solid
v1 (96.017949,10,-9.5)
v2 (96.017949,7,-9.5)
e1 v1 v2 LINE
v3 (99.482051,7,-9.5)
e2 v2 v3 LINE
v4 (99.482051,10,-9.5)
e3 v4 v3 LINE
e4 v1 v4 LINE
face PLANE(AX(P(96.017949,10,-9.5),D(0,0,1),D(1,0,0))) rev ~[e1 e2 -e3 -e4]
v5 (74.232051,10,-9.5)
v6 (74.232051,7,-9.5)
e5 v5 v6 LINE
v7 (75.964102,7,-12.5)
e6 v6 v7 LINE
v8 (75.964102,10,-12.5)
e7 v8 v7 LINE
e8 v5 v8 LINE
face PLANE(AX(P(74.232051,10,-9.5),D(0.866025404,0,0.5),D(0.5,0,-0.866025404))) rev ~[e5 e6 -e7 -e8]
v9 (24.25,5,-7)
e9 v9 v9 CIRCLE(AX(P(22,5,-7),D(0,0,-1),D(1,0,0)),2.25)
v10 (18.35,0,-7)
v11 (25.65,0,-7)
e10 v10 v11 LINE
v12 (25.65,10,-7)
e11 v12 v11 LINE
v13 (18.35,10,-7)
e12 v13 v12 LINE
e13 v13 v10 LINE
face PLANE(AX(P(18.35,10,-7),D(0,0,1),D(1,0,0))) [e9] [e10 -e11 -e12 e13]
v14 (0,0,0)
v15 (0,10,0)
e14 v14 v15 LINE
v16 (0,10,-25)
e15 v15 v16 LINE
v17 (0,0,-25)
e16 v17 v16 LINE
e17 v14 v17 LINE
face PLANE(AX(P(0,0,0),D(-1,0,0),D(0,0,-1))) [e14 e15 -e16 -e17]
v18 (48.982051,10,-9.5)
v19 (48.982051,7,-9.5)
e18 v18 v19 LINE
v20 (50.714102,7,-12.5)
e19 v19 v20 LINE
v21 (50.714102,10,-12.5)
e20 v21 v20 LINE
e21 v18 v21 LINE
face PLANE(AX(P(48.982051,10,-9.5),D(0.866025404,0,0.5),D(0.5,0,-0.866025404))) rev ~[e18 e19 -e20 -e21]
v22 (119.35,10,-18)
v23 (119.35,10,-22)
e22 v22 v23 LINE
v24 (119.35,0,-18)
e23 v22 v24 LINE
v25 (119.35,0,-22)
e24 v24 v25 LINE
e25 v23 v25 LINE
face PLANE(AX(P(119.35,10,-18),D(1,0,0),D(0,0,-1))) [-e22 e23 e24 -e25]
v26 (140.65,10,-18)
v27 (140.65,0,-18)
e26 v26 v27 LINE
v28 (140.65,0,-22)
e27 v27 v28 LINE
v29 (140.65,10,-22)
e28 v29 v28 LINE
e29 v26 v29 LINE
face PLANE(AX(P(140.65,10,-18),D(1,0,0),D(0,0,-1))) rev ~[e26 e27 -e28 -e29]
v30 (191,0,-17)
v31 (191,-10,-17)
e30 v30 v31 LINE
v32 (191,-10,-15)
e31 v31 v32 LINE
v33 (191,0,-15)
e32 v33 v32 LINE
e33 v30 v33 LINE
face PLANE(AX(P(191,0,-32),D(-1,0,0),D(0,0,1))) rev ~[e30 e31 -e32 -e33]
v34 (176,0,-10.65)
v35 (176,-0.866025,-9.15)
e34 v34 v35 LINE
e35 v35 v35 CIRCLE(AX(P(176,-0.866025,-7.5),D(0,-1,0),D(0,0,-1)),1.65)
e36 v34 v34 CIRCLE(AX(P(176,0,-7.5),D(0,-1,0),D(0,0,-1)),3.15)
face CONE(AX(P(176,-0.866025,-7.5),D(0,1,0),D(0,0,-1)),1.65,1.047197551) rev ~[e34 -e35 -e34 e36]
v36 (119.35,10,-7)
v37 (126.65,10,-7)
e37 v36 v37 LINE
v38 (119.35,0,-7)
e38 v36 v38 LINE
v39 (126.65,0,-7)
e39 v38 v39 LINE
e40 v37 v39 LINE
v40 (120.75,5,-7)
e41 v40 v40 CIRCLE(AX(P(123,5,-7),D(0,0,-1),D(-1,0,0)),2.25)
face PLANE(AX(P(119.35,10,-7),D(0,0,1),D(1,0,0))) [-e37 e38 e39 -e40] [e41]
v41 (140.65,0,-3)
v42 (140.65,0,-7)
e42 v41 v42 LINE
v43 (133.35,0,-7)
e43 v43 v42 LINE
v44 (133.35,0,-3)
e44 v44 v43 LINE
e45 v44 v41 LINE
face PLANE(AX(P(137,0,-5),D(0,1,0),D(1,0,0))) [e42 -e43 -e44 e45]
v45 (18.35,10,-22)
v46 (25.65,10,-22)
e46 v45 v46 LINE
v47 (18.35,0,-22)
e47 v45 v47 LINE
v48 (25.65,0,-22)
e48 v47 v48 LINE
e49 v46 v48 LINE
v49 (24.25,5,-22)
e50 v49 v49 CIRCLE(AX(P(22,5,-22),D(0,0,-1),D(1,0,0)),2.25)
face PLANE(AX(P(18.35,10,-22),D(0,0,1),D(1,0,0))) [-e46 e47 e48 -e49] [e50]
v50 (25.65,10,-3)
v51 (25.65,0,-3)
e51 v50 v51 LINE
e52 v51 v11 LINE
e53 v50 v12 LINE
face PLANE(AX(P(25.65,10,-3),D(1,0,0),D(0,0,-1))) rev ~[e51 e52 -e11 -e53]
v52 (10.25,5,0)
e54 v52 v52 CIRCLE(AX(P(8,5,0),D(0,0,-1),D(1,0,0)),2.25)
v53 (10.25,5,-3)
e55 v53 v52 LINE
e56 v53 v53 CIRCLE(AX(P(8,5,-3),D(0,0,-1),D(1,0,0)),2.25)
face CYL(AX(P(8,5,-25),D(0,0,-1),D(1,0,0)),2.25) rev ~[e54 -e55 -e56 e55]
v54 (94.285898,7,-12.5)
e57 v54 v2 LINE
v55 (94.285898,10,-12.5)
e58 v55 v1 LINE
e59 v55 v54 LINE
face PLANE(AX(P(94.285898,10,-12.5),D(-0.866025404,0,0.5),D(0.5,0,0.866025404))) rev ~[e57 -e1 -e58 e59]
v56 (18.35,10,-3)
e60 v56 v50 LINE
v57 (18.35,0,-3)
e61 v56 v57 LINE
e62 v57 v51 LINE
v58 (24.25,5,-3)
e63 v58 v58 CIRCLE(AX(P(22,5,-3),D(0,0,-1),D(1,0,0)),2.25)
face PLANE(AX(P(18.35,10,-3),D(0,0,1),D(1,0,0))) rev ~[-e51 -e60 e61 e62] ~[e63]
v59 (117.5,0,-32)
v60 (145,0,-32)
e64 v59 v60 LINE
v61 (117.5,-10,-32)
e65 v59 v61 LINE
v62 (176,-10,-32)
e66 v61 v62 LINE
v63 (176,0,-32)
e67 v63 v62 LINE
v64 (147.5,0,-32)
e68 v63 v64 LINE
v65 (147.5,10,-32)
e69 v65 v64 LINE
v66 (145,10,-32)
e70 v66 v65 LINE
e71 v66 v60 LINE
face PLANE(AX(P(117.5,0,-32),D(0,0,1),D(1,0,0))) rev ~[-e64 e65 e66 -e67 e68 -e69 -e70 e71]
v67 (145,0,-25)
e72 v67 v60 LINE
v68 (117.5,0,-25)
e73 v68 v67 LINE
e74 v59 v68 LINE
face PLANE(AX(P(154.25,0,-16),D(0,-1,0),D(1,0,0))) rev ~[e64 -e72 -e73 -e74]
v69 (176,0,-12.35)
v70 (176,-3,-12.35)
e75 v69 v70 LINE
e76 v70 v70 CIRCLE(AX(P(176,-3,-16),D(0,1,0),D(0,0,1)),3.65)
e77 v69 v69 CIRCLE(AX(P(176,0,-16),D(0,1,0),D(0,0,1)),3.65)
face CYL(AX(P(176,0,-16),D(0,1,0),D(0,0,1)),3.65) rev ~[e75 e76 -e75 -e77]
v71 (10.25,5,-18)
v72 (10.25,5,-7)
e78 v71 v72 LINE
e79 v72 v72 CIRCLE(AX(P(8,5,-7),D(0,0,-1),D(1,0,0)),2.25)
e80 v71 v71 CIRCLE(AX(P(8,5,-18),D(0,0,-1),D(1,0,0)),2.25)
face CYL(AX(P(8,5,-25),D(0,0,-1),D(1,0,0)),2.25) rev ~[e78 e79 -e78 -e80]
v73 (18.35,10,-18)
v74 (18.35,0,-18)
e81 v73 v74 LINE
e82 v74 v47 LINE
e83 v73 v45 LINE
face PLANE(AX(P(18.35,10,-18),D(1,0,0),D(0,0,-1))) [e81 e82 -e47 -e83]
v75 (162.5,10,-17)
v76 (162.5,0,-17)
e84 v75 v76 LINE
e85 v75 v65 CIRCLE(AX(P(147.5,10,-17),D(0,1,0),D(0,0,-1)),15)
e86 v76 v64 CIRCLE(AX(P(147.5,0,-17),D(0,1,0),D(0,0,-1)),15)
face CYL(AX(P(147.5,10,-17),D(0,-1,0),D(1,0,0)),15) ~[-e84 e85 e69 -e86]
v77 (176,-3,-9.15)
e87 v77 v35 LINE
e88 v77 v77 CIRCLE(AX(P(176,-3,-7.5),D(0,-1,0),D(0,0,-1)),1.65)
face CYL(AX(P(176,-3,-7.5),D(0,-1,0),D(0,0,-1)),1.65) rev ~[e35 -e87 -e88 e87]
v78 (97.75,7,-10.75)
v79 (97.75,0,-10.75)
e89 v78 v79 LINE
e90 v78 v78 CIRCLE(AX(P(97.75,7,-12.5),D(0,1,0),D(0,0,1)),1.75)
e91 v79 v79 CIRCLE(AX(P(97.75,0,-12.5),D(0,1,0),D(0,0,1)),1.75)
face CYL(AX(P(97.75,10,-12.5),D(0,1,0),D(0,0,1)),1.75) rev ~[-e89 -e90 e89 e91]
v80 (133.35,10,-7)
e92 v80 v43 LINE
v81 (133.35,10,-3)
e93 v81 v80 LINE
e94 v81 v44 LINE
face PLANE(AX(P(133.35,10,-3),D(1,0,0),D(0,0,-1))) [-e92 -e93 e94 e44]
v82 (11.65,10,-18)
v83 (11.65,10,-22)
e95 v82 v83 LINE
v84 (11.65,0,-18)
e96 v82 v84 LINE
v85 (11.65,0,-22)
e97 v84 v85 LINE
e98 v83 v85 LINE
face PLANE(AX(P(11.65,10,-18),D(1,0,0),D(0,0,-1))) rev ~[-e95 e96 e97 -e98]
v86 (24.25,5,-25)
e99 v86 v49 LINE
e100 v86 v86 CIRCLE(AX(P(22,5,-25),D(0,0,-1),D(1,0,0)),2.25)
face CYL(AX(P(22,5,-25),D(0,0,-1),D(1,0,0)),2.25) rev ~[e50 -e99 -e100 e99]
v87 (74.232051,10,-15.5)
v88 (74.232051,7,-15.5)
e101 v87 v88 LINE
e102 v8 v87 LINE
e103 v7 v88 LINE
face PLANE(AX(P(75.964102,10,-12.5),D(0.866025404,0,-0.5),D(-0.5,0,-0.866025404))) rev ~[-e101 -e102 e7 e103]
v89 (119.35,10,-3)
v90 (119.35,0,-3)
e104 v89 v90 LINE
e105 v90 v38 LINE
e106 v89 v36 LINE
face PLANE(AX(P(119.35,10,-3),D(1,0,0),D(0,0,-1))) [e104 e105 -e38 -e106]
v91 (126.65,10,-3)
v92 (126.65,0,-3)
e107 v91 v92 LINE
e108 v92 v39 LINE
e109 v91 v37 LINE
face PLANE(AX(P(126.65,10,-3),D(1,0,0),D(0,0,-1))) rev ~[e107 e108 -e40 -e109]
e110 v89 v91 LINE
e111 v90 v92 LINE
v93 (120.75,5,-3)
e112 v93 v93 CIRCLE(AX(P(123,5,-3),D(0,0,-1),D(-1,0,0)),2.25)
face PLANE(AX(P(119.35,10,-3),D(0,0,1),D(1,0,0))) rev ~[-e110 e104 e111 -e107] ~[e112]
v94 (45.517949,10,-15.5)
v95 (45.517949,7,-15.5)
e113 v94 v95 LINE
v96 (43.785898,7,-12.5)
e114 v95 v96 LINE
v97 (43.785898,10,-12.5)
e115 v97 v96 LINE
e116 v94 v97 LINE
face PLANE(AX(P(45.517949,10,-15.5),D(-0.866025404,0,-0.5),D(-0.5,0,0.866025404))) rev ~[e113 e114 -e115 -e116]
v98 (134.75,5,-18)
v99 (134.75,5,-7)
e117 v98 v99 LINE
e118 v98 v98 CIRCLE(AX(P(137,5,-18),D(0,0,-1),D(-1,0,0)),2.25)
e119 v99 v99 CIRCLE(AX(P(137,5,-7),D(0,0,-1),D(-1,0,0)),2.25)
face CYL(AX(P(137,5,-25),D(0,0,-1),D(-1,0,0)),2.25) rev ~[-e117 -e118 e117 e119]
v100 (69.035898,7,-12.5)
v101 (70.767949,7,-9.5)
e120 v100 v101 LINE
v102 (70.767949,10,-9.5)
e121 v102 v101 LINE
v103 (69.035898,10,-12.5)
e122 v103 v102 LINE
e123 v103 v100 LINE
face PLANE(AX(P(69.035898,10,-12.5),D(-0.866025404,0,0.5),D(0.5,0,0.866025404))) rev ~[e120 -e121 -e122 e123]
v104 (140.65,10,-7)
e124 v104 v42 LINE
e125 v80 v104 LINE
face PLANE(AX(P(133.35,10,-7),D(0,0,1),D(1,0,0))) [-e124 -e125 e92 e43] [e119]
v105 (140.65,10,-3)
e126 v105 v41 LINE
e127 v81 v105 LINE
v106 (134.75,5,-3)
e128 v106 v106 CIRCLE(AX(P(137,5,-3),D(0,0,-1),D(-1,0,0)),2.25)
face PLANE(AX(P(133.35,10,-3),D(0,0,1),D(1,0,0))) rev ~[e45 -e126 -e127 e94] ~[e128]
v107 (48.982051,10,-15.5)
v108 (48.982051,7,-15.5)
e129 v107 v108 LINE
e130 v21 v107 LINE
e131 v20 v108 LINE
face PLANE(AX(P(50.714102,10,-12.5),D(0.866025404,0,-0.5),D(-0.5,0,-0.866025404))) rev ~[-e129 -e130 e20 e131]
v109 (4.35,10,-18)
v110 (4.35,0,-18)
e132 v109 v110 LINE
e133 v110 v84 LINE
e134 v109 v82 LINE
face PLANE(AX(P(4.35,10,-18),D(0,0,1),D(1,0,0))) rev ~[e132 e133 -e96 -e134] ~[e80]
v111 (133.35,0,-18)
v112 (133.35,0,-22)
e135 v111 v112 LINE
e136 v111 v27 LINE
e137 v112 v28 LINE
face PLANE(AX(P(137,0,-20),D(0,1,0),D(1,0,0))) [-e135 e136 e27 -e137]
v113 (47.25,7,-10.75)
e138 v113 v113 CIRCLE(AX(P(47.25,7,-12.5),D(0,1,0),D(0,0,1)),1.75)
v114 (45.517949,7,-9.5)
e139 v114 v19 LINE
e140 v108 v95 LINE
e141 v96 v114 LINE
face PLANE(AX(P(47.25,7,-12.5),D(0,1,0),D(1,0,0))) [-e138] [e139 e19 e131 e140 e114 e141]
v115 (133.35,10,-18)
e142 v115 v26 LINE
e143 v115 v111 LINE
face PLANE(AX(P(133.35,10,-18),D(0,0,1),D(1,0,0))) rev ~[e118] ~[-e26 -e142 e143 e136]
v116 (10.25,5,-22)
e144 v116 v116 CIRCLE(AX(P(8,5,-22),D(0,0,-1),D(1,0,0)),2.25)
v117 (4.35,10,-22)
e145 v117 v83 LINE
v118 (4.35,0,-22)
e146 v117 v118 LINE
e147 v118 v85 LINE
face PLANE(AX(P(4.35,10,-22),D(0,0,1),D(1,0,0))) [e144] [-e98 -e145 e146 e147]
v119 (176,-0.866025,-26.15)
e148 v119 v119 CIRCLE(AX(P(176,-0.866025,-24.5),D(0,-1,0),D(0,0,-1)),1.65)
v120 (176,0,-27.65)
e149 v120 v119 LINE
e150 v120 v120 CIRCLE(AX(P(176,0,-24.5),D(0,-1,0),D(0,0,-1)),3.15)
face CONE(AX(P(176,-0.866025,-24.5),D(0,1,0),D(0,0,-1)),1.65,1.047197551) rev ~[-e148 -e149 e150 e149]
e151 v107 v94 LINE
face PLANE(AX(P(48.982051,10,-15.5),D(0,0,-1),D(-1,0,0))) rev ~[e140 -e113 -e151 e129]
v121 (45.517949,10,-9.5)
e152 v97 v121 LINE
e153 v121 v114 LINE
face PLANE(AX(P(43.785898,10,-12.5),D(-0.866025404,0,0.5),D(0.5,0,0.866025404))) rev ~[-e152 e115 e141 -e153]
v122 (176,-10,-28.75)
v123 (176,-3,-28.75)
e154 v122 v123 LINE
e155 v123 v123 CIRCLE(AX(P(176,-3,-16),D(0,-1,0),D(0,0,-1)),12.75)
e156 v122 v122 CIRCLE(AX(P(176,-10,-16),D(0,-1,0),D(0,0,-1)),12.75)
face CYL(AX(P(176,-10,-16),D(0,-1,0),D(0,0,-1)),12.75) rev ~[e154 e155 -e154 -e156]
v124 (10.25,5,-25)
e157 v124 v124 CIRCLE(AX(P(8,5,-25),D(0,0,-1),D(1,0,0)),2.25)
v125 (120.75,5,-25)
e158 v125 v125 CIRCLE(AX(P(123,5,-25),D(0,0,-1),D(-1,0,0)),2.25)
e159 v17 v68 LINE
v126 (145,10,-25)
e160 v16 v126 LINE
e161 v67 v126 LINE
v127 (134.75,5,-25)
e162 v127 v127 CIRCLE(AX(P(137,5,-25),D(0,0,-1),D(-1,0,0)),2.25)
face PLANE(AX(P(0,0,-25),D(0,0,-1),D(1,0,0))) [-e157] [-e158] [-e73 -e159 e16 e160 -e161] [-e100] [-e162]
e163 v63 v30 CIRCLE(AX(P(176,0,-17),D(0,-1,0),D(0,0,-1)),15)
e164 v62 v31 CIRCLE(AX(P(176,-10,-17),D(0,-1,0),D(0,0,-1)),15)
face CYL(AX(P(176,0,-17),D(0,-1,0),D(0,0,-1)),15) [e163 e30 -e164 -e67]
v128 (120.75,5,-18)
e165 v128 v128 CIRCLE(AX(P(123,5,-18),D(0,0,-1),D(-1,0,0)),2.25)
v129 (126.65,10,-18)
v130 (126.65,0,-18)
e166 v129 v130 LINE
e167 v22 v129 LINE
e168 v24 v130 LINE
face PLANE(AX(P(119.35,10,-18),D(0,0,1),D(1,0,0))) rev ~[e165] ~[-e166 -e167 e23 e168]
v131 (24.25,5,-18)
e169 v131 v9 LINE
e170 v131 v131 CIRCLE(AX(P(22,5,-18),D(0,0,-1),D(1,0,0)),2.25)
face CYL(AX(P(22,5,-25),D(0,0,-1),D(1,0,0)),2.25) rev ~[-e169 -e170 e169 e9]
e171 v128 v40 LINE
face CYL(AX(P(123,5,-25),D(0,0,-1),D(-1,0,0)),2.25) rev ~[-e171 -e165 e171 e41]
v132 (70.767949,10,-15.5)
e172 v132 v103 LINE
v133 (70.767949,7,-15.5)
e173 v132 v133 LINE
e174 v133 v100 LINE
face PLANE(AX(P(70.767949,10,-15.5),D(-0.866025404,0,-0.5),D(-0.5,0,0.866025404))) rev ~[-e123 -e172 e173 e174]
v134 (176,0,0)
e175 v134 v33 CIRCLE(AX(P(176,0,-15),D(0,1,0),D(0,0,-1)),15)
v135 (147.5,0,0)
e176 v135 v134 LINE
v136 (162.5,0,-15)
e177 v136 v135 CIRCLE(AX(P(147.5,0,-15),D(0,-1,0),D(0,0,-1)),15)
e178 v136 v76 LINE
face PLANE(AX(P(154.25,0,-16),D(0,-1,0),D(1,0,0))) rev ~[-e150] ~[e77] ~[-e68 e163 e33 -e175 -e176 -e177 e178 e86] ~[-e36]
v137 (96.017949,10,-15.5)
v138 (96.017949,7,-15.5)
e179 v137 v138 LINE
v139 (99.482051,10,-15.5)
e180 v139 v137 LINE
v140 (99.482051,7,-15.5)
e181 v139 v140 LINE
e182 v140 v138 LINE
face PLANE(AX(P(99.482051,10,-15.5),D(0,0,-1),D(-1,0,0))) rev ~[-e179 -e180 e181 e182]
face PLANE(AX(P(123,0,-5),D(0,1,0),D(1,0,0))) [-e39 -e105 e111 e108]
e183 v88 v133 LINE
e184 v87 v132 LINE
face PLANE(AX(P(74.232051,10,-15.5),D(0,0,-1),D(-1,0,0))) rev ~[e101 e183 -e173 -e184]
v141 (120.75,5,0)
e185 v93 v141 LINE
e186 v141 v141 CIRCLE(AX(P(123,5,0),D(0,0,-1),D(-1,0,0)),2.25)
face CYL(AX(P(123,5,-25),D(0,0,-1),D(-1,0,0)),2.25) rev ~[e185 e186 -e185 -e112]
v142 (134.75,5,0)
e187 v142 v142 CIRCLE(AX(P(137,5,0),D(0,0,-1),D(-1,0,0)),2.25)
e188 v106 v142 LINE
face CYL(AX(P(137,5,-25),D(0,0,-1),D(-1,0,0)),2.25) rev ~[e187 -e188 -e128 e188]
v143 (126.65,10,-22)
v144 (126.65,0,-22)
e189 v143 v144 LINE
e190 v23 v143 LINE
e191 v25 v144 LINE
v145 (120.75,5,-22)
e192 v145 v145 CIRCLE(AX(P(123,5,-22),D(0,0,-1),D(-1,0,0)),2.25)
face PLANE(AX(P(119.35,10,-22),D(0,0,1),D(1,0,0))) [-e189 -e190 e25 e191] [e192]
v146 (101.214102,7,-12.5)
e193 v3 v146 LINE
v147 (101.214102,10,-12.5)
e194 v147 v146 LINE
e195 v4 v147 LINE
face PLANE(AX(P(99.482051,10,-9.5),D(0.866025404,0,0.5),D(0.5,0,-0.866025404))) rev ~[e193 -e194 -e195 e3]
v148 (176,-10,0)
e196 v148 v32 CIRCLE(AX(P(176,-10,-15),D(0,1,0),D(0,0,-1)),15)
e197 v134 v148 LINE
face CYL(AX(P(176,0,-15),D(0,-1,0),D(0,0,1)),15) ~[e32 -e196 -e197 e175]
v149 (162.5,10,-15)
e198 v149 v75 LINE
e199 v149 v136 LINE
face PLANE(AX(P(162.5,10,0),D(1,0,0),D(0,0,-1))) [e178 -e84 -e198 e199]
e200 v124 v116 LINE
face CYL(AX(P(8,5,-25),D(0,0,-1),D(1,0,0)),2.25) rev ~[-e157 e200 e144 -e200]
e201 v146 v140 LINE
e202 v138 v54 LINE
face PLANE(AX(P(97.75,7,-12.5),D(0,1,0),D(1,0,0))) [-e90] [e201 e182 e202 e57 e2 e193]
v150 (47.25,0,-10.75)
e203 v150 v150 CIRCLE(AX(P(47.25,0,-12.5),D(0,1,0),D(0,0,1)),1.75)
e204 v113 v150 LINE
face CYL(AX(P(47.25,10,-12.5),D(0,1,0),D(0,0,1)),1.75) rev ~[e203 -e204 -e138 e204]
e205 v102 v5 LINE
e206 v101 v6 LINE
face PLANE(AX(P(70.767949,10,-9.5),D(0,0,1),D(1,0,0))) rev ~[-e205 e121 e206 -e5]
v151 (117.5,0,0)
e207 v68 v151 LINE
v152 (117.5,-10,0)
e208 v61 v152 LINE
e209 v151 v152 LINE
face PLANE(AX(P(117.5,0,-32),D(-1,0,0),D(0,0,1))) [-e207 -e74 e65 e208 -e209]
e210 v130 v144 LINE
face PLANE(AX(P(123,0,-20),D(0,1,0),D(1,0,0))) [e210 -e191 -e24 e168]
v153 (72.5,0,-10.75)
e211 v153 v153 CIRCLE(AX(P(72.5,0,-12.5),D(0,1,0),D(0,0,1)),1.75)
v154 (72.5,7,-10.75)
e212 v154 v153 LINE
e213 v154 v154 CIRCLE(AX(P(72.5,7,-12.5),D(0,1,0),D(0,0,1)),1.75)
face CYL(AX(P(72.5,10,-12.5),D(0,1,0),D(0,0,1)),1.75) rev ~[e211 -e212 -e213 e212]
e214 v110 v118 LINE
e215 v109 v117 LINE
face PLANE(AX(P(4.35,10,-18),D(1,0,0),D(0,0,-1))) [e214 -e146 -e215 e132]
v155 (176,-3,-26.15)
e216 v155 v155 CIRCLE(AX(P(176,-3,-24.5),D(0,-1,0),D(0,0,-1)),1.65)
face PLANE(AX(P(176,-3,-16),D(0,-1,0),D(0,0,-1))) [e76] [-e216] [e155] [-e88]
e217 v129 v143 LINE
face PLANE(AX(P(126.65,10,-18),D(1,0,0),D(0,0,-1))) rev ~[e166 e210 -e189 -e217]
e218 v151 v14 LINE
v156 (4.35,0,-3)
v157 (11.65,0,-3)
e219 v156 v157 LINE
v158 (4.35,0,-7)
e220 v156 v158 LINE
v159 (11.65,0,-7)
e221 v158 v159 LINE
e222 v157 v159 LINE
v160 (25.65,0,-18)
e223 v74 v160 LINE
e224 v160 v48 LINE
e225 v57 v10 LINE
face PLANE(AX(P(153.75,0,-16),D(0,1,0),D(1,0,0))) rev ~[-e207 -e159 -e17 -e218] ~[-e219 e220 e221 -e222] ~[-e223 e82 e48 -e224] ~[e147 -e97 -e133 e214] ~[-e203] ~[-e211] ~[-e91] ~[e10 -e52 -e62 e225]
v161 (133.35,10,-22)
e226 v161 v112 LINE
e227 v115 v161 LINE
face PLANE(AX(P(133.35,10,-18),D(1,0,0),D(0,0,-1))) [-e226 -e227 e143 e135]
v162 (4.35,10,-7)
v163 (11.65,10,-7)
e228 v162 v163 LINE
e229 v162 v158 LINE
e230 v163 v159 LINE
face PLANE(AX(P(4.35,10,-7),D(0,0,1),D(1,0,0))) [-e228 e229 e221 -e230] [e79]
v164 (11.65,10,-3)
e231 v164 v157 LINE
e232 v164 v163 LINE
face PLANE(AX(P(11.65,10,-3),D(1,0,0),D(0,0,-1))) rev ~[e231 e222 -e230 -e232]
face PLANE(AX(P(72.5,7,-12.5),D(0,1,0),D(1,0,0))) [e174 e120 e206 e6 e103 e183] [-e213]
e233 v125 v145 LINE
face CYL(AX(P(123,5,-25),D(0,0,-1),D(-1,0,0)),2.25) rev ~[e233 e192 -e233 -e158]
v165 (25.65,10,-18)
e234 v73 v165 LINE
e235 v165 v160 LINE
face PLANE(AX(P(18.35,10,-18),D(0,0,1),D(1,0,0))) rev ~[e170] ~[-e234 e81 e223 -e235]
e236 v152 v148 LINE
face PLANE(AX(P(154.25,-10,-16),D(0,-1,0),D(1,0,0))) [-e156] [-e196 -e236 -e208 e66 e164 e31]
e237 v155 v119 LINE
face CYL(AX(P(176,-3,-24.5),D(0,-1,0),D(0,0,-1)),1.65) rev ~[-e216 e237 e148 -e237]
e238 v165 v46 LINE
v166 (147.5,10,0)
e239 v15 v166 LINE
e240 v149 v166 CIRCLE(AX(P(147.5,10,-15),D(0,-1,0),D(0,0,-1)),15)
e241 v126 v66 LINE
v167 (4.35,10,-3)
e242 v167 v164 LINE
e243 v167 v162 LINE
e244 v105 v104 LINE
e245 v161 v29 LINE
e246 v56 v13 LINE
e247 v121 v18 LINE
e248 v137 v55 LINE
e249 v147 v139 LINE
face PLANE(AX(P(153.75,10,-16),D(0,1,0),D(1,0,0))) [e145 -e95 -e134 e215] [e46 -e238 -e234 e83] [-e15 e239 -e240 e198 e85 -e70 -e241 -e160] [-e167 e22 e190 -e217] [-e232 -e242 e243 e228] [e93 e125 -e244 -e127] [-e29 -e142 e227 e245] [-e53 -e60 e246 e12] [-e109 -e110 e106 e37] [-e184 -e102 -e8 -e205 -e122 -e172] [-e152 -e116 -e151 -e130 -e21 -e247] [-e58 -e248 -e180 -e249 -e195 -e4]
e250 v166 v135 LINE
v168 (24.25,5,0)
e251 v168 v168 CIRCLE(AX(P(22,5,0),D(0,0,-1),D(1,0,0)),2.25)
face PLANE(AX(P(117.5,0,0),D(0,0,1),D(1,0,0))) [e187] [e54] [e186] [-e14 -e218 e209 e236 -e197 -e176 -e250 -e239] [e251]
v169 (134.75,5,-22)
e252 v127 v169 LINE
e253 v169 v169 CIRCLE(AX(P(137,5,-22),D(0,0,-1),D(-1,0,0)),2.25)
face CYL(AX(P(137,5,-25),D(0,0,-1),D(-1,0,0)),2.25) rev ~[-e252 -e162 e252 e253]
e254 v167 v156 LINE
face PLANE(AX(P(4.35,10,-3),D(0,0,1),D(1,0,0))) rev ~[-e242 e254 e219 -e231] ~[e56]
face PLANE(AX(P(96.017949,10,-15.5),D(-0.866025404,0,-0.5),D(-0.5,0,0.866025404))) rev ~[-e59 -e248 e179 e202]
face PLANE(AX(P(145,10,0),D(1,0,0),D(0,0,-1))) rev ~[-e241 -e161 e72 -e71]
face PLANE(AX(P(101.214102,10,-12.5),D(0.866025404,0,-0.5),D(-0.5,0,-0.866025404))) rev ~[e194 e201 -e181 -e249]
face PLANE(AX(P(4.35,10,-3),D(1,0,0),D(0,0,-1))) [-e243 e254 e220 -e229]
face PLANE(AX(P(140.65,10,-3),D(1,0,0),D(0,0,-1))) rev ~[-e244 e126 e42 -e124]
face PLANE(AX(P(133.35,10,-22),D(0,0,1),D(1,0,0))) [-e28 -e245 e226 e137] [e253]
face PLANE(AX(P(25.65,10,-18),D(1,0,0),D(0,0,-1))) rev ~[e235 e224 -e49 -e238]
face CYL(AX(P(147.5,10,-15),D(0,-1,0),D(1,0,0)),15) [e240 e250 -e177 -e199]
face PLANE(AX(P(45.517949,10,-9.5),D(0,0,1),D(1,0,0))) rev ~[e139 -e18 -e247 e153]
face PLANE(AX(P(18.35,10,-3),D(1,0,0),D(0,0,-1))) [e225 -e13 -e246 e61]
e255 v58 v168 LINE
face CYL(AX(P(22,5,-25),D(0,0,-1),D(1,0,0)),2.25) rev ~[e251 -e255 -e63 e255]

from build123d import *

# Parameters (mm, degrees)
SKETCH1_W           = 145
SKETCH1_H           = 25
BOSS_EXTRUDE1_DEPTH = 10
SKETCH2_W           = 17.5
SKETCH2_H           = 32
BOSS_EXTRUDE2_DEPTH = 10
SKETCH4_W           = 73.5
SKETCH4_H           = 32
BOSS_EXTRUDE3_DEPTH = 10
SKETCH8_R           = 2.25
CUT_EXTRUDE5_DEPTH  = 193.888568868
SKETCH9_W           = 7.3
SKETCH9_H           = 4
CUT_EXTRUDE6_DEPTH  = 10
CUT_EXTRUDE7_REACH  = 195.92
SKETCH10_R          = 3.65
SKETCH11_R          = 12.75
CUT_EXTRUDE8_DEPTH  = 7
CUT_EXTRUDE9_REACH  = 196.692
SKETCH12_R          = 1.75
CUT_EXTRUDE10_DEPTH = 3
CUT_EXTRUDE11_REACH = 196.098
SKETCH14_R          = 1.65
CHAMFER1_SIZE       = 1.5
CHAMFER1_SIZE2      = 0.866025404
FILLET1_R           = 15


with BuildPart() as part:
    # Sketch1 → Boss-Extrude1 (new body)
    with BuildSketch(Plane(origin=(0, 0, 0), x_dir=(1, 0, 0), z_dir=(0, 1, 0))):
        with Locations((72.5, 12.5)):
            Rectangle(SKETCH1_W, SKETCH1_H)
    extrude(amount=BOSS_EXTRUDE1_DEPTH)

    # Sketch2 → Boss-Extrude2 (add)
    with BuildSketch(Plane(origin=(0, 10, 0), x_dir=(1, 0, 0), z_dir=(0, 1, 0))):
        with Locations((153.75, 16)):
            Rectangle(SKETCH2_W, SKETCH2_H)
    extrude(amount=-BOSS_EXTRUDE2_DEPTH)

    # Sketch4 → Boss-Extrude3 (add)
    with BuildSketch(Plane.XZ):
        with Locations((154.25, -16)):
            Rectangle(SKETCH4_W, SKETCH4_H)
    extrude(amount=BOSS_EXTRUDE3_DEPTH)

    # Sketch8 → Cut-Extrude5 (cut, through all)
    with BuildSketch(Plane(origin=(0, 0, -25), x_dir=(-1, 0, 0), z_dir=(0, 0, -1))):
        with Locations((-137, 5)):
            Circle(SKETCH8_R)
        with Locations((-123, 5)):
            Circle(SKETCH8_R)
        with Locations(Location((-22, 5, 0), (0, 0, 180))):
            Circle(SKETCH8_R)
        with Locations(Location((-8, 5, 0), (0, 0, 180))):
            Circle(SKETCH8_R)
    extrude(amount=-CUT_EXTRUDE5_DEPTH, mode=Mode.SUBTRACT)

    # Sketch9 → Cut-Extrude6 (cut)
    with BuildSketch(Plane(origin=(0, 10, 0), x_dir=(1, 0, 0), z_dir=(0, 1, 0))):
        with Locations((137, 20)):
            Rectangle(SKETCH9_W, SKETCH9_H)
        with Locations((137, 5)):
            Rectangle(SKETCH9_W, SKETCH9_H)
        with Locations((123, 5)):
            Rectangle(SKETCH9_W, SKETCH9_H)
        with Locations((123, 20)):
            Rectangle(SKETCH9_W, SKETCH9_H)
        with Locations((8, 20)):
            Rectangle(SKETCH9_W, SKETCH9_H)
        with Locations((22, 20)):
            Rectangle(SKETCH9_W, SKETCH9_H)
        with Locations((22, 5)):
            Rectangle(SKETCH9_W, SKETCH9_H)
        with Locations((8, 5)):
            Rectangle(SKETCH9_W, SKETCH9_H)
    extrude(amount=-CUT_EXTRUDE6_DEPTH, mode=Mode.SUBTRACT)

    # Sketch10 → Cut-Extrude7 (cut, up to next)
    with BuildSketch(Plane(origin=(0, 0, 0), x_dir=(1, 0, 0), z_dir=(0, 1, 0)), mode=Mode.PRIVATE) as cut_extrude7_sk1:
        with Locations(Location((176, 16, 0), (0, 0, 270))):
            Circle(SKETCH10_R)
    cut_extrude7_tool1 = extrude(cut_extrude7_sk1.sketch, amount=-CUT_EXTRUDE7_REACH, mode=Mode.PRIVATE) & part.part
    add(cut_extrude7_tool1.solids().sort_by_distance((176, 0, -16))[0], mode=Mode.SUBTRACT)

    # Sketch11 → Cut-Extrude8 (cut)
    with BuildSketch(Plane.XZ.offset(10)):
        with Locations(Location((176, -16, 0), (0, 0, 270))):
            Circle(SKETCH11_R)
    extrude(amount=-CUT_EXTRUDE8_DEPTH, mode=Mode.SUBTRACT)

    # Sketch12 → Cut-Extrude9 (cut, up to next)
    with BuildSketch(Plane(origin=(0, 10, 0), x_dir=(1, 0, 0), z_dir=(0, 1, 0)), mode=Mode.PRIVATE) as cut_extrude9_sk1:
        with Locations(Location((47.25, 12.5, 0), (0, 0, 270))):
            Circle(SKETCH12_R)
    cut_extrude9_tool1 = extrude(cut_extrude9_sk1.sketch, amount=-CUT_EXTRUDE9_REACH, mode=Mode.PRIVATE) & part.part
    # Sketch12 → Cut-Extrude9 (cut, up to next)
    with BuildSketch(Plane(origin=(0, 10, 0), x_dir=(1, 0, 0), z_dir=(0, 1, 0)), mode=Mode.PRIVATE) as cut_extrude9_sk2:
        with Locations(Location((72.5, 12.5, 0), (0, 0, 270))):
            Circle(SKETCH12_R)
    cut_extrude9_tool2 = extrude(cut_extrude9_sk2.sketch, amount=-CUT_EXTRUDE9_REACH, mode=Mode.PRIVATE) & part.part
    # Sketch12 → Cut-Extrude9 (cut, up to next)
    with BuildSketch(Plane(origin=(0, 10, 0), x_dir=(1, 0, 0), z_dir=(0, 1, 0)), mode=Mode.PRIVATE) as cut_extrude9_sk3:
        with Locations(Location((97.75, 12.5, 0), (0, 0, 270))):
            Circle(SKETCH12_R)
    cut_extrude9_tool3 = extrude(cut_extrude9_sk3.sketch, amount=-CUT_EXTRUDE9_REACH, mode=Mode.PRIVATE) & part.part
    add(cut_extrude9_tool1.solids().sort_by_distance((47.25, 10, -12.5))[0], mode=Mode.SUBTRACT)
    add(cut_extrude9_tool2.solids().sort_by_distance((72.5, 10, -12.5))[0], mode=Mode.SUBTRACT)
    add(cut_extrude9_tool3.solids().sort_by_distance((97.75, 10, -12.5))[0], mode=Mode.SUBTRACT)

    # Sketch13 → Cut-Extrude10 (cut)
    with BuildSketch(Plane(origin=(0, 10, 0), x_dir=(1, 0, 0), z_dir=(0, 1, 0))):
        Polygon((75.964101615, 12.5), (74.232050808, 15.5), (70.767949192, 15.5), (69.035898385, 12.5), (70.767949192, 9.5), (74.232050808, 9.5), align=None)
        Polygon((50.714101615, 12.5), (48.982050808, 15.5), (45.517949192, 15.5), (43.785898385, 12.5), (45.517949192, 9.5), (48.982050808, 9.5), align=None)
        Polygon((101.214101615, 12.5), (99.482050808, 15.5), (96.017949192, 15.5), (94.285898385, 12.5), (96.017949192, 9.5), (99.482050808, 9.5), align=None)
    extrude(amount=-CUT_EXTRUDE10_DEPTH, mode=Mode.SUBTRACT)

    # Sketch14 → Cut-Extrude11 (cut, up to next)
    with BuildSketch(Plane.XZ.offset(3), mode=Mode.PRIVATE) as cut_extrude11_sk1:
        with Locations(Location((176, -7.5, 0), (0, 0, 270))):
            Circle(SKETCH14_R)
    cut_extrude11_tool1 = extrude(cut_extrude11_sk1.sketch, amount=-CUT_EXTRUDE11_REACH, mode=Mode.PRIVATE) & part.part
    # Sketch14 → Cut-Extrude11 (cut, up to next)
    with BuildSketch(Plane.XZ.offset(3), mode=Mode.PRIVATE) as cut_extrude11_sk2:
        with Locations(Location((176, -24.5, 0), (0, 0, 270))):
            Circle(SKETCH14_R)
    cut_extrude11_tool2 = extrude(cut_extrude11_sk2.sketch, amount=-CUT_EXTRUDE11_REACH, mode=Mode.PRIVATE) & part.part
    add(cut_extrude11_tool1.solids().sort_by_distance((176, -3, -7.5))[0], mode=Mode.SUBTRACT)
    add(cut_extrude11_tool2.solids().sort_by_distance((176, -3, -24.5))[0], mode=Mode.SUBTRACT)

    # Chamfer1
    chamfer1_edges = [part.edges().sort_by_distance(p)[0] for p in [
        (176, 0, -5.85),
        (176, 0, -22.85),
    ]]
    chamfer1_side = [part.faces().sort_by_distance(p)[0] for p in [
        (162.928514877, 0, -16),
    ]]
    chamfer(chamfer1_edges, length=CHAMFER1_SIZE, length2=CHAMFER1_SIZE2, reference=chamfer1_side[0])

    # Fillet1
    fillet1_edges = [part.edges().sort_by_distance(p)[0] for p in [
        (162.5, 5, -32),
        (162.5, 5, 0),
        (191, -5, -32),
        (191, -5, 0),
    ]]
    fillet(fillet1_edges, radius=FILLET1_R)


solid = part.part
